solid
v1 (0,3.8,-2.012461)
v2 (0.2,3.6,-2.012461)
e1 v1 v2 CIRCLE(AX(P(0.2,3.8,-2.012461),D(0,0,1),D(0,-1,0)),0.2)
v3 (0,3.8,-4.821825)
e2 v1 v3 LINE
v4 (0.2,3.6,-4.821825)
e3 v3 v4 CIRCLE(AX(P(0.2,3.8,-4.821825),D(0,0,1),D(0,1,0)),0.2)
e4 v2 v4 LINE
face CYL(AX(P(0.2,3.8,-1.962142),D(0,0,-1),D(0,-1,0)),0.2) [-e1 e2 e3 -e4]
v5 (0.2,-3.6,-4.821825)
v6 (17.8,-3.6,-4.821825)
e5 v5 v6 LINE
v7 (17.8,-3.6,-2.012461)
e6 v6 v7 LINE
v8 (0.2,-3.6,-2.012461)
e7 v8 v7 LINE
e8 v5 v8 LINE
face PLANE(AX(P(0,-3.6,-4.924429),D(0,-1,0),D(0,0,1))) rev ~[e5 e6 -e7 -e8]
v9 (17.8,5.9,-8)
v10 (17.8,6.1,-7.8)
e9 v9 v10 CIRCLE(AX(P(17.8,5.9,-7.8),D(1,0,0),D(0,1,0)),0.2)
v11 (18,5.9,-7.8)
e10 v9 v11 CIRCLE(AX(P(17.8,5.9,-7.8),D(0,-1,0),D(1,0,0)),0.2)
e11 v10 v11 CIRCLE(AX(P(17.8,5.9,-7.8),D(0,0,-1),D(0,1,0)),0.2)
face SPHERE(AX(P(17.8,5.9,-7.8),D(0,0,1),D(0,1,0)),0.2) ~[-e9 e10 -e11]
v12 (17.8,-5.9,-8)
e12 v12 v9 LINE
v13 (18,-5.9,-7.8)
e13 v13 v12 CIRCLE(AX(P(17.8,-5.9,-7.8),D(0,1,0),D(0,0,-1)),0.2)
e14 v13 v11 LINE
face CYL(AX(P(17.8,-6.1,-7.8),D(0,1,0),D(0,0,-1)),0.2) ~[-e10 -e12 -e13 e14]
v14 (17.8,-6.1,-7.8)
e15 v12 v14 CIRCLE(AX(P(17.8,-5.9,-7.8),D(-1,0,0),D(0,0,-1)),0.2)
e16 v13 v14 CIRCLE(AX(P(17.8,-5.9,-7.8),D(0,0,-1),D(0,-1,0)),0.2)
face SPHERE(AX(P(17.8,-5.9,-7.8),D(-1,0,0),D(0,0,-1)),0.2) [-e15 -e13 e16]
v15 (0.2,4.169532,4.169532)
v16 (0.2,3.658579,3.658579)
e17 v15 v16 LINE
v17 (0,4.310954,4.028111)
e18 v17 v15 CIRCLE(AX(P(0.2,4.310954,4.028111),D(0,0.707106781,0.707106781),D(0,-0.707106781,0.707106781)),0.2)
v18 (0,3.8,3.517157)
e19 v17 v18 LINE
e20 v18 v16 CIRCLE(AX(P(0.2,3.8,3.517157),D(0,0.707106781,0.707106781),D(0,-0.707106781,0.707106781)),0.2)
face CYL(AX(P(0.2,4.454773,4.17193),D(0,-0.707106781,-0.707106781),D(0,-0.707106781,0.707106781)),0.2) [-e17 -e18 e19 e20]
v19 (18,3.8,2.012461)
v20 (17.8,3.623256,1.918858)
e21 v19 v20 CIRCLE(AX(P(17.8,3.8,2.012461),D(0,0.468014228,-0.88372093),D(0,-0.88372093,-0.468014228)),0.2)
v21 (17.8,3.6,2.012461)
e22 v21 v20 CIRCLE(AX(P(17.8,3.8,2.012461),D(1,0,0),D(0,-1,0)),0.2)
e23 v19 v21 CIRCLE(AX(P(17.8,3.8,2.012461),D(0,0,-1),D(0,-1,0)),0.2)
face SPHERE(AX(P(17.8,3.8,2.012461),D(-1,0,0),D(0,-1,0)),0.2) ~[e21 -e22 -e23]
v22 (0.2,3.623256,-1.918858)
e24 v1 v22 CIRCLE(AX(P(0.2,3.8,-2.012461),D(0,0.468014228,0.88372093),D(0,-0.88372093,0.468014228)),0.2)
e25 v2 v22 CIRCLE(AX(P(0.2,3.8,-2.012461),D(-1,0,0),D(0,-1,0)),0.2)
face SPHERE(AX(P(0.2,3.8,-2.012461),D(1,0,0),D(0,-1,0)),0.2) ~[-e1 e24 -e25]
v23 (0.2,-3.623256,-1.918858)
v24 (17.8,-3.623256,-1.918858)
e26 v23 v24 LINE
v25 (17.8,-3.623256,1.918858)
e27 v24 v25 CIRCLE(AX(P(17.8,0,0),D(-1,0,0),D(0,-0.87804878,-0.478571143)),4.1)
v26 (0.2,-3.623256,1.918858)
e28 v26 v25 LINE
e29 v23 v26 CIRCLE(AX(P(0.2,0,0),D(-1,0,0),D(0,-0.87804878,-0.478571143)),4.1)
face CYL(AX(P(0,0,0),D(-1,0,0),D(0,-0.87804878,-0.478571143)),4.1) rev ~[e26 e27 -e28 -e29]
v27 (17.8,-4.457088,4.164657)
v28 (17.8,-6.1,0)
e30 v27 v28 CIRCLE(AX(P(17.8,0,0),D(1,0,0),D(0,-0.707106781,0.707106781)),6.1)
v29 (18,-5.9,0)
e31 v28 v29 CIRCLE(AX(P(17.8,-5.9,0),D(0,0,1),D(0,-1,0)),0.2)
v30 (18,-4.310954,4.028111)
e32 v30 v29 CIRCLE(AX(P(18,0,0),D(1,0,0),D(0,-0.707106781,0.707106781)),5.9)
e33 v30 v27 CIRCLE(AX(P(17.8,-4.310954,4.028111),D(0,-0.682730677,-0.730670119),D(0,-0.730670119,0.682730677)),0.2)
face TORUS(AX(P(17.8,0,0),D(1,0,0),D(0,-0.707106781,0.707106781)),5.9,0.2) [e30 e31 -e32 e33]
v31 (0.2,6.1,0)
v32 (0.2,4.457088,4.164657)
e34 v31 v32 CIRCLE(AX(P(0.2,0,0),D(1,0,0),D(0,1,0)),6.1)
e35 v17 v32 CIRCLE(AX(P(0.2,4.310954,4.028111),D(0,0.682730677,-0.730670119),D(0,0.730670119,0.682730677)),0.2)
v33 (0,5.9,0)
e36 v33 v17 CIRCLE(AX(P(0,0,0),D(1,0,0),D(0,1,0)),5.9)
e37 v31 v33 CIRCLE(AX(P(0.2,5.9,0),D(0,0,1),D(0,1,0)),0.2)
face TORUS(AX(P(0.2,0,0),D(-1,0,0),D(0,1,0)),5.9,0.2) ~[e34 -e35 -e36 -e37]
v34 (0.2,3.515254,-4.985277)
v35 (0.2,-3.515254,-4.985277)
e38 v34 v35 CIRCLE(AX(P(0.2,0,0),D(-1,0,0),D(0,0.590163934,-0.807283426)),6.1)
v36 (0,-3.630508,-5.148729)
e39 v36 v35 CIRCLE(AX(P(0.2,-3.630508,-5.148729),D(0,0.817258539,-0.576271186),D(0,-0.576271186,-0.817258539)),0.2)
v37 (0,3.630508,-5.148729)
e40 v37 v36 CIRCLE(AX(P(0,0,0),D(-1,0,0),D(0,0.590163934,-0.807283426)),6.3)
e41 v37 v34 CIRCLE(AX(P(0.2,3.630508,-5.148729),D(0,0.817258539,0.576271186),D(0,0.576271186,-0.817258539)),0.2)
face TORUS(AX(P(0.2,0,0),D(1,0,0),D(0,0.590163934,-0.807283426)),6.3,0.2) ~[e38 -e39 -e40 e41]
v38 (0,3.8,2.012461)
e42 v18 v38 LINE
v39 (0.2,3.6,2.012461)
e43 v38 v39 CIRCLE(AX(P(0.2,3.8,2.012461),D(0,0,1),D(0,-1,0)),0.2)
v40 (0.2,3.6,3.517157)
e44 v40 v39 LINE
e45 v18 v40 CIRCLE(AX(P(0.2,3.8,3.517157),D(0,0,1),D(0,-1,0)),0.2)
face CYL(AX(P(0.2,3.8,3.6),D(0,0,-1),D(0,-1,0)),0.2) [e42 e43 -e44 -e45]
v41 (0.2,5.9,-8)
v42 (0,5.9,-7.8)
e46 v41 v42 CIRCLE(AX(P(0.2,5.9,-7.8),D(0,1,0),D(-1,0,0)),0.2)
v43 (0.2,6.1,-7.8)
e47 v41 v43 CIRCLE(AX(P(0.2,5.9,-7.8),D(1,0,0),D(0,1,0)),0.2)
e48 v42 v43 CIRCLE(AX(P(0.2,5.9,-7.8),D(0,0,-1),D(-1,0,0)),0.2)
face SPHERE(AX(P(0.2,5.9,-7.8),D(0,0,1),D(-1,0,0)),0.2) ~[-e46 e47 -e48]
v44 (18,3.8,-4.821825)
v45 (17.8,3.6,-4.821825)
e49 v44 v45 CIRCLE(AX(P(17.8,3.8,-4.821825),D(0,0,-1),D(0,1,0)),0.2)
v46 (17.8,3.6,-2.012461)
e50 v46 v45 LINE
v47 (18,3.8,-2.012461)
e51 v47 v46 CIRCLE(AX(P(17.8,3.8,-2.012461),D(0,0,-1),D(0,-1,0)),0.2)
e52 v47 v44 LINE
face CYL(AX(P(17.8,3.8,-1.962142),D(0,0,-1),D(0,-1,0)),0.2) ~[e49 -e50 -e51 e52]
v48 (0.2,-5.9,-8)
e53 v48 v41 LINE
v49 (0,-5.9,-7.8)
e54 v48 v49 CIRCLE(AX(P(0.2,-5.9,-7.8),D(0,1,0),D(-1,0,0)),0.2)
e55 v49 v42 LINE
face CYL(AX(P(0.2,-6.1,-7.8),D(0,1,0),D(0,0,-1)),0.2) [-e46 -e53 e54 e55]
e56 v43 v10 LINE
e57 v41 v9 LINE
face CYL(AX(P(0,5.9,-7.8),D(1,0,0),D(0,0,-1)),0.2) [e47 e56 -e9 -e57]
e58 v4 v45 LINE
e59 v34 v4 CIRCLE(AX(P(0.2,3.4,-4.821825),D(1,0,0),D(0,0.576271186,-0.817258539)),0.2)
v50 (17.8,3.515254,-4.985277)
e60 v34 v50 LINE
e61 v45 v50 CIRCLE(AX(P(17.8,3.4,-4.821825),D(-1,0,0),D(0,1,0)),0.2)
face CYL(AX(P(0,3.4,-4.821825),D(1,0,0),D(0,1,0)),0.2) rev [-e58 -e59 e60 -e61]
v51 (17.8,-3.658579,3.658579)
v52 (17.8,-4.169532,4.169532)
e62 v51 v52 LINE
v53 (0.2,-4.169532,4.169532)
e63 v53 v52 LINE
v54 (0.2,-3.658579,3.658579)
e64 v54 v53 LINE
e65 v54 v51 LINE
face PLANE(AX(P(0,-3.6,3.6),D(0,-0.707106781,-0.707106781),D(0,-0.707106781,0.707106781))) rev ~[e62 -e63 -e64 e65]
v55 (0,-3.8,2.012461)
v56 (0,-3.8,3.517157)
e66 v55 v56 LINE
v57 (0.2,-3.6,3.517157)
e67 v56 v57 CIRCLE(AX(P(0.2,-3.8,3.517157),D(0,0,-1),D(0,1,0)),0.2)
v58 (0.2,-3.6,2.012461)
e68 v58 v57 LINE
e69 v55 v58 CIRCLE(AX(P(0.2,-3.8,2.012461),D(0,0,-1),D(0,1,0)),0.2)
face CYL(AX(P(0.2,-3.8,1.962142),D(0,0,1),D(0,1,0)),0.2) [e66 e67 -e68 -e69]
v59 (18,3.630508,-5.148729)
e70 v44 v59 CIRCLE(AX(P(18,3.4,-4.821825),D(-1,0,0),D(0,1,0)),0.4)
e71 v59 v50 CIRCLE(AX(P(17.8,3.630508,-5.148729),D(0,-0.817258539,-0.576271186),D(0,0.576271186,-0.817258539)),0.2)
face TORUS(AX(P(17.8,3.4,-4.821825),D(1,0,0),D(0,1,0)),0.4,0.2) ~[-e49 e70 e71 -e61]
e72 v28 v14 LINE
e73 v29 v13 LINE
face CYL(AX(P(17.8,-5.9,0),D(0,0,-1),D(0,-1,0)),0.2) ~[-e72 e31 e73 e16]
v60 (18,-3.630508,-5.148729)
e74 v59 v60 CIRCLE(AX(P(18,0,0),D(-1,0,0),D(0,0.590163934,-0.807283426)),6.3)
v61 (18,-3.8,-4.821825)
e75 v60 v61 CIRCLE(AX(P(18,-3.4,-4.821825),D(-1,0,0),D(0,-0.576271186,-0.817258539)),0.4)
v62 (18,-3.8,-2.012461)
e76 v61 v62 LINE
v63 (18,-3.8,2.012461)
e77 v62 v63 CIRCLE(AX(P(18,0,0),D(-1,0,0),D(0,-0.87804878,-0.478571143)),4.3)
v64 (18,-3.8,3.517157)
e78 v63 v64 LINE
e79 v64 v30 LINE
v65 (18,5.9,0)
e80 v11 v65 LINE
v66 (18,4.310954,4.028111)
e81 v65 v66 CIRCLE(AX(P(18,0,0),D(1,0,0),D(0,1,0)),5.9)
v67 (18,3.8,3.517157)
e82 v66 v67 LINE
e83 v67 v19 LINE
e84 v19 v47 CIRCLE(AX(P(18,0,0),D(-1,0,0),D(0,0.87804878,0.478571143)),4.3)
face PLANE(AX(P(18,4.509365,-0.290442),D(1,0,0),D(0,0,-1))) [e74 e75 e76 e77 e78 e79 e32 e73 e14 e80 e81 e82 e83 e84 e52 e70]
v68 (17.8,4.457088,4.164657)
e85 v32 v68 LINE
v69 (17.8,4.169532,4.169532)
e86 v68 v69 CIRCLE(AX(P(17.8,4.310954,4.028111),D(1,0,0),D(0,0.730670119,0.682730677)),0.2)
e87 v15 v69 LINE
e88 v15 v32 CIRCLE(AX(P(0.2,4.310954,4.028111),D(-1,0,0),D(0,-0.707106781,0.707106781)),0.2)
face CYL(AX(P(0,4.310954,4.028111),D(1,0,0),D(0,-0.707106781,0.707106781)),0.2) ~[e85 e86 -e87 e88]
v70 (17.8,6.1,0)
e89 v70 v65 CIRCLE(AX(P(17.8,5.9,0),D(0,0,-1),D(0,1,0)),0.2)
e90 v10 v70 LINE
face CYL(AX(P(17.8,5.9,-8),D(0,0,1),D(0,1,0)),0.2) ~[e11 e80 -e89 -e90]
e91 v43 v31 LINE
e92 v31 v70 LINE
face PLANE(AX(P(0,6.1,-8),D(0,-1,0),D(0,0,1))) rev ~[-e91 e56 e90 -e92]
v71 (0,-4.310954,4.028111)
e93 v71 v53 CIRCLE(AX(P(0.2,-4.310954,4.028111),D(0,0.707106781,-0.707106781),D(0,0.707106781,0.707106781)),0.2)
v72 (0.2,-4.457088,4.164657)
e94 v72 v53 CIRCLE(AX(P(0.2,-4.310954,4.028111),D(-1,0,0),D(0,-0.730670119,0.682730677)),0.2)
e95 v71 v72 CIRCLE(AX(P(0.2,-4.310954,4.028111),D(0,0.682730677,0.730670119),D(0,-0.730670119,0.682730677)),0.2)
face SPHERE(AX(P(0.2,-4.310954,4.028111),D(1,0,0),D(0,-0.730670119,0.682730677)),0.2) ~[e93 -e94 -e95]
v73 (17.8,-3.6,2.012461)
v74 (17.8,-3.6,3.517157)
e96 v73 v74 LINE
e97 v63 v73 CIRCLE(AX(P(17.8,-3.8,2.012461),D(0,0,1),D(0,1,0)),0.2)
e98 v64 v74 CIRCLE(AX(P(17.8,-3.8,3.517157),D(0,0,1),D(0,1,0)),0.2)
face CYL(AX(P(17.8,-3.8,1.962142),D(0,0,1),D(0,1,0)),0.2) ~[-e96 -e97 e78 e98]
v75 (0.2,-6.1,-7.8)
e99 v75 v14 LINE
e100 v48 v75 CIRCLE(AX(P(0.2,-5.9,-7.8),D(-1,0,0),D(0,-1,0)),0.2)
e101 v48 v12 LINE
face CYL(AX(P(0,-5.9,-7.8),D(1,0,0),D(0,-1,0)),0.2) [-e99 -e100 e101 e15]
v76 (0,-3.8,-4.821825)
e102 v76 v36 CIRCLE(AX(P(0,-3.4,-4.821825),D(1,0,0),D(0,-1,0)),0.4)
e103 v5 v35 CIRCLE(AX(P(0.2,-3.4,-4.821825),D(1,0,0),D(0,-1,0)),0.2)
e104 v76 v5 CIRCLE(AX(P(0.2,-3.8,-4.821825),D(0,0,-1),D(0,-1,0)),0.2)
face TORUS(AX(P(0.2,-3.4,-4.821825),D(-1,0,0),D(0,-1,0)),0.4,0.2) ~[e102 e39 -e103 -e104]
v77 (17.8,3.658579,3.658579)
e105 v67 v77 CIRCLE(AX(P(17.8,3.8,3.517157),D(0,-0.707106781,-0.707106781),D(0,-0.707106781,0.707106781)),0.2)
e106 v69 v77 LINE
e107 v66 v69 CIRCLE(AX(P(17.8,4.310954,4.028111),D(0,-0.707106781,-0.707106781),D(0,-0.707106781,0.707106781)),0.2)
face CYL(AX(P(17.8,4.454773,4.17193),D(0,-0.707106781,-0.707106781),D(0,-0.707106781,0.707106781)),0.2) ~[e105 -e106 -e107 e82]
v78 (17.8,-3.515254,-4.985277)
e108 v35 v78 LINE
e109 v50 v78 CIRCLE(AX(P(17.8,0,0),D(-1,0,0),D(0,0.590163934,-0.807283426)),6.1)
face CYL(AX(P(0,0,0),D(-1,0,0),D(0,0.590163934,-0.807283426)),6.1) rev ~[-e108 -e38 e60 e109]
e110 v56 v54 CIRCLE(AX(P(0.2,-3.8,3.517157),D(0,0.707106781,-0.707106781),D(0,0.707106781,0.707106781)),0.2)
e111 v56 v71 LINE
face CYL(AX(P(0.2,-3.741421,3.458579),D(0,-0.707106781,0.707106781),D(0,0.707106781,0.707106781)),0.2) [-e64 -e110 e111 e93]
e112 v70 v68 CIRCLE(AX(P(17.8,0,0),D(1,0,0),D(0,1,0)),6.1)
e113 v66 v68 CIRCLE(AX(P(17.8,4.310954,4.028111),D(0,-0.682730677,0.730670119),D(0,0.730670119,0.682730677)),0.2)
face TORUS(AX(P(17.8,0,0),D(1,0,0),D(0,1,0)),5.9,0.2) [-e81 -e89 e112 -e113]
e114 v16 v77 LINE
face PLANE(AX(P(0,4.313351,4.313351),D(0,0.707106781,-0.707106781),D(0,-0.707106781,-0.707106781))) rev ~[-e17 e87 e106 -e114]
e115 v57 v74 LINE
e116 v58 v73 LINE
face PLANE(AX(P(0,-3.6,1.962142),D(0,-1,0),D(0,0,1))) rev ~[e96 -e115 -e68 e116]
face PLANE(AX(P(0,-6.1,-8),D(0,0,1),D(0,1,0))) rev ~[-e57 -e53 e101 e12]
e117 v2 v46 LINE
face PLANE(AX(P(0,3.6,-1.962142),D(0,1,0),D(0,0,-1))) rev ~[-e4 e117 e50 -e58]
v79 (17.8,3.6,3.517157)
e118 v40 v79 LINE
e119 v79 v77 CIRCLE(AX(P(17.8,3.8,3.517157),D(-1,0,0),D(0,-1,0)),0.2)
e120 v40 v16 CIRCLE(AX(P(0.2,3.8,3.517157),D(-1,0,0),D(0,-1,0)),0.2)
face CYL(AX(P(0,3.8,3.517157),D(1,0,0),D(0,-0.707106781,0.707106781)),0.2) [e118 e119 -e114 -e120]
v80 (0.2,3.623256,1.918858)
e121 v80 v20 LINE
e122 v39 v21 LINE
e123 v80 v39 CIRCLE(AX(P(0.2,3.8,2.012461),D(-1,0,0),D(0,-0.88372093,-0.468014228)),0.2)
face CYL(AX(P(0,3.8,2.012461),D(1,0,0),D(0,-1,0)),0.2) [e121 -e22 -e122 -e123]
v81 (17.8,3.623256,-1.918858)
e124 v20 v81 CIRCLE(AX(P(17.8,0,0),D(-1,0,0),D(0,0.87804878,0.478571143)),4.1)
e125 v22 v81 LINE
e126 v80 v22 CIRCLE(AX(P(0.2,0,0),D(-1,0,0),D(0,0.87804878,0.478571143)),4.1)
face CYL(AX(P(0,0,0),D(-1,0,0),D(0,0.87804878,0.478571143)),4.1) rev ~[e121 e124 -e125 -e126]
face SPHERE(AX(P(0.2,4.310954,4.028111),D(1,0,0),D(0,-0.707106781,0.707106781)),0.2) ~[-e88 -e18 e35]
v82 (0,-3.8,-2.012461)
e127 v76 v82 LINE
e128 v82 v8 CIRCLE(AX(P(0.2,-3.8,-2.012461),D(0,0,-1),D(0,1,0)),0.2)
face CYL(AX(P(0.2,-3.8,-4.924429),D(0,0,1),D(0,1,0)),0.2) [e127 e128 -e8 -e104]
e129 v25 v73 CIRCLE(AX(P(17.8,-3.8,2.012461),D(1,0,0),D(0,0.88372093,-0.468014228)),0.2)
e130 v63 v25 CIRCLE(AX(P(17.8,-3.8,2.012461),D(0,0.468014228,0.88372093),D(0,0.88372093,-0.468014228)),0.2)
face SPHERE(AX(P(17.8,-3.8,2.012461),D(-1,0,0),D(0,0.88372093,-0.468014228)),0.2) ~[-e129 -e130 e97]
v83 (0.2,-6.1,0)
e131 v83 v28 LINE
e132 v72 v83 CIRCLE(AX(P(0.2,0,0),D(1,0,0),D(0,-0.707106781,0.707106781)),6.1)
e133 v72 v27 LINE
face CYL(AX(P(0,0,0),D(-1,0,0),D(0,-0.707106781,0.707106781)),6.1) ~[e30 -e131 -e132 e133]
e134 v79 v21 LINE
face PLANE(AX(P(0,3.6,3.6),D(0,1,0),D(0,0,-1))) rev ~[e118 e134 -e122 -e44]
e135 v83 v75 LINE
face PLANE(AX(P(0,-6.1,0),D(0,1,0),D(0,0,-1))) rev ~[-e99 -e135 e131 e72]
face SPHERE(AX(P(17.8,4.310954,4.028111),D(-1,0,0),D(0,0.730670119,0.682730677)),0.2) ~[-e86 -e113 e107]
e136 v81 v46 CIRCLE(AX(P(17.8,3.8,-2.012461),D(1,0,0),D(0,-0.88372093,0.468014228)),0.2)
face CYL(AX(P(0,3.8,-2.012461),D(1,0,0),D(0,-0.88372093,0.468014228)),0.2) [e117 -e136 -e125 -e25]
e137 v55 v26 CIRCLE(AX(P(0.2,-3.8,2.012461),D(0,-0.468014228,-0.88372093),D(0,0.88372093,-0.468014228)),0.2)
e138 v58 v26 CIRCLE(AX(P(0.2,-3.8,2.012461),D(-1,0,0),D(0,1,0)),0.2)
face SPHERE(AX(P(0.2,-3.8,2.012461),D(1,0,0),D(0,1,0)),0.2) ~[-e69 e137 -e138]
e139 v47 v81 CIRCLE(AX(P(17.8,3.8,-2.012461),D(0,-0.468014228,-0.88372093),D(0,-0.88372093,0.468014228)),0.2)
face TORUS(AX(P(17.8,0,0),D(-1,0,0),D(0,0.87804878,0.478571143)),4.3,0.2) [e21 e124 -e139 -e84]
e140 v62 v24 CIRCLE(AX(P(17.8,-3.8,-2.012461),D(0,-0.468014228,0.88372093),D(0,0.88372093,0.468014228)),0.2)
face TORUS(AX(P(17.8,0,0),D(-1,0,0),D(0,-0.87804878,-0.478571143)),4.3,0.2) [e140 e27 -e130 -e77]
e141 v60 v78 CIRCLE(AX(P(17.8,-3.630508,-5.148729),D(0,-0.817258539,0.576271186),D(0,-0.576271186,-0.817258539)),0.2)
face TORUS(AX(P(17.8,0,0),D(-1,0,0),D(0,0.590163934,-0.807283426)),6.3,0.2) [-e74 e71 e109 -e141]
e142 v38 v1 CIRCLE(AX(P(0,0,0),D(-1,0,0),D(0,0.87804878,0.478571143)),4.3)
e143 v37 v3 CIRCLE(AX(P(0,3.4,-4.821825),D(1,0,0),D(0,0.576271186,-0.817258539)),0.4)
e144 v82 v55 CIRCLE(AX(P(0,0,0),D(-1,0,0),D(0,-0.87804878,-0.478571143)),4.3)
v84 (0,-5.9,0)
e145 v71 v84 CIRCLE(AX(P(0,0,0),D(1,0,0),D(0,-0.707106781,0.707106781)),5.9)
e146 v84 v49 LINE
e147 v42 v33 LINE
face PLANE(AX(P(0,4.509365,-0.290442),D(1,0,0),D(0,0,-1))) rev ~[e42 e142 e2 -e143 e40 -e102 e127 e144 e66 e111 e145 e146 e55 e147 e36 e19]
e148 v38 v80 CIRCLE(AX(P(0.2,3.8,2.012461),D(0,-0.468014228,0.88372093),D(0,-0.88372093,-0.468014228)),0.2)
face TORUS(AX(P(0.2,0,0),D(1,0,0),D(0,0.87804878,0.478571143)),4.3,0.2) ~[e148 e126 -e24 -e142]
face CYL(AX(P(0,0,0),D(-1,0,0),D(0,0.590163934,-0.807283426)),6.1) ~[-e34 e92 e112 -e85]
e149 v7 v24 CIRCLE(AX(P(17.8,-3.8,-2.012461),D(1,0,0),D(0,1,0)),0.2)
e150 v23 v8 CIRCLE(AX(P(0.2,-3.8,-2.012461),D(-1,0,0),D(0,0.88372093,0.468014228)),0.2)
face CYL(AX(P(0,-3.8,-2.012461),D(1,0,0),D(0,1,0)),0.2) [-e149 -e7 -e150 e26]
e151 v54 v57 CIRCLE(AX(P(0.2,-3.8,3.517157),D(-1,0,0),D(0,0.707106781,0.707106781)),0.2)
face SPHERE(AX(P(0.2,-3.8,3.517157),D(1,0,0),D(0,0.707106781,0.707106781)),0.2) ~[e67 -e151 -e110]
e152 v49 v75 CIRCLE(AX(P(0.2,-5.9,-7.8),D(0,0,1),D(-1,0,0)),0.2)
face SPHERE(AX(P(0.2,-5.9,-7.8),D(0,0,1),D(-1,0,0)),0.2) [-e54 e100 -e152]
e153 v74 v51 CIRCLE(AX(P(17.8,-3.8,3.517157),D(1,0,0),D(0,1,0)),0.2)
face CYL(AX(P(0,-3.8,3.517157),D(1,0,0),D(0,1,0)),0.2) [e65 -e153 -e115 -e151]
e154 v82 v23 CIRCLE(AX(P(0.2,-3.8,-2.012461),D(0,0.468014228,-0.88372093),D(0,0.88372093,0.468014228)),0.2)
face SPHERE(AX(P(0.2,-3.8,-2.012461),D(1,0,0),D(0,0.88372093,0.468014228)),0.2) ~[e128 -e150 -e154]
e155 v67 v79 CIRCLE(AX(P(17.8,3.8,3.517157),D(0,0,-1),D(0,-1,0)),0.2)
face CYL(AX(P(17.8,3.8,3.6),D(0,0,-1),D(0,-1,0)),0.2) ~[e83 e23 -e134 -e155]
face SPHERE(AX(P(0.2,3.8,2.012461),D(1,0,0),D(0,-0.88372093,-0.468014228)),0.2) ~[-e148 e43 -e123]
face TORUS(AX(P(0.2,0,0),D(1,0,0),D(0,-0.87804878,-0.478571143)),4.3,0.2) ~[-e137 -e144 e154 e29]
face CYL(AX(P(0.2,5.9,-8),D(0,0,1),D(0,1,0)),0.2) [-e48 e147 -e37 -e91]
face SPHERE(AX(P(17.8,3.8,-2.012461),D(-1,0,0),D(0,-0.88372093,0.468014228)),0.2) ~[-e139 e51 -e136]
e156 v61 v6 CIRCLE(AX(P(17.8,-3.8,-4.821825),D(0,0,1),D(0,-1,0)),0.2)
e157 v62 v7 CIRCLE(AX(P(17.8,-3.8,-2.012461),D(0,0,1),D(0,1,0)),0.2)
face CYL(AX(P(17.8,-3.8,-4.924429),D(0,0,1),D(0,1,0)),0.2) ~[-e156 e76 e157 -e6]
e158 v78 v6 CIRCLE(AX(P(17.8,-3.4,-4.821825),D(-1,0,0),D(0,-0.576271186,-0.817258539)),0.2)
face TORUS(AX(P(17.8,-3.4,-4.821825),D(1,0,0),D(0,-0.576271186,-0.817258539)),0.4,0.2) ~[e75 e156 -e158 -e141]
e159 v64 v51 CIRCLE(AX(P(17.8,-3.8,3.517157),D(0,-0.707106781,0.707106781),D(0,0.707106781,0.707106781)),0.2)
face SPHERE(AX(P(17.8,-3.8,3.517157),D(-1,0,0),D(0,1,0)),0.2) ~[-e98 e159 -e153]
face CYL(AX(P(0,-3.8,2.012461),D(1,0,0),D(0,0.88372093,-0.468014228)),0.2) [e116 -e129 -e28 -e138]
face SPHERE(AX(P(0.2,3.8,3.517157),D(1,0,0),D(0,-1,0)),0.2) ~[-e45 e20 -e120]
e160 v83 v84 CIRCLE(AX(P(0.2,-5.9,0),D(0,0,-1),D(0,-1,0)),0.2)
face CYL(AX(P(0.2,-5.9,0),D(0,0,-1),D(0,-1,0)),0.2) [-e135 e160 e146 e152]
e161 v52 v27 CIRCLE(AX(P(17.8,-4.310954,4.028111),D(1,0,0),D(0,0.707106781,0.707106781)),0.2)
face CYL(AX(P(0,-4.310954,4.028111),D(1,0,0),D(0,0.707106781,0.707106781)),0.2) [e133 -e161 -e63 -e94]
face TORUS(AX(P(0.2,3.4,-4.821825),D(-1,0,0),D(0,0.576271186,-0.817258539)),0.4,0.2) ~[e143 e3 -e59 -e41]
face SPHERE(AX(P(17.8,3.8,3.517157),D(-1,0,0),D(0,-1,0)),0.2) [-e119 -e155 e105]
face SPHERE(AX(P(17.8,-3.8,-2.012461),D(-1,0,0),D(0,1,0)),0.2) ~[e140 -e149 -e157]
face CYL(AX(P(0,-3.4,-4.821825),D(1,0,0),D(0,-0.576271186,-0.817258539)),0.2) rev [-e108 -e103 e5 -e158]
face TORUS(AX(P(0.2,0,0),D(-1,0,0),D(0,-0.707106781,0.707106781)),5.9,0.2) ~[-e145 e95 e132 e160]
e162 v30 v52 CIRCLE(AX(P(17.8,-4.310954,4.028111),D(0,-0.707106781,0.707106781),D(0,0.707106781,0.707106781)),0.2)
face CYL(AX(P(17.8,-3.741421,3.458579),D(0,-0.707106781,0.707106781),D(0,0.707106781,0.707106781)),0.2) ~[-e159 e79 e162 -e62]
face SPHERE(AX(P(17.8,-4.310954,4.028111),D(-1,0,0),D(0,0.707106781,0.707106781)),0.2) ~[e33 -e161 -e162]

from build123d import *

# Parameters (mm, degrees)
BOSS_EXTRUDE1_DEPTH = 18
FILLET1_R           = 0.2


with BuildPart() as part:
    # Sketch1 → Boss-Extrude1 (new body)
    with BuildSketch(Plane(origin=(0, 0, 0), x_dir=(0, 0, -1), z_dir=(1, 0, 0))):
        with BuildLine():
            Line((-4.3133513652379465, 4.313351365237932), (-3.6000000000000107, 3.5999999999999988))
            Line((-3.6000000000000103, 3.5999999999999996), (-1.9621416870348378, 3.5999999999999996))
            ThreePointArc((-1.962141687034841, 3.6000000000000094), (-1.978e-14, 4.1), (1.962141687034806, 3.600000000000028))
            Line((1.9621416870347996, 3.5999999999999996), (4.924428900898164, 3.5999999999999996))
            ThreePointArc((4.9244289008981275, 3.5999999999998975), (4.632641104588721, 3.96845516493194), (4.3133513652379465, 4.313351365237932))
            ThreePointArc((4.3133513652379465, 4.313351365237932), (2.3343689374270524, 5.6356651483188465), (3.7e-16, 6.1))
            ThreePointArc((3.7e-16, 6.1), (-2.334368937427052, 5.6356651483188465), (-4.3133513652379465, 4.313351365237932))
        make_face()
        with BuildLine():
            Line((8, 6.1), (0, 6.1))
            ThreePointArc((3.7e-16, 6.1), (2.3343689374270524, 5.6356651483188465), (4.3133513652379465, 4.313351365237932))
            Line((4.3133513652379465, 4.313351365237932), (8, 4.313351365237933))
            Line((8, 4.313351365237933), (8, 6.1))
        make_face()
        with BuildLine():
            ThreePointArc((4.3133513652379465, 4.313351365237932), (4.632641104588721, 3.96845516493194), (4.9244289008981275, 3.5999999999998975))
            Line((4.924428900898164, 3.5999999999999996), (8, 3.5999999999999996))
            Line((8, 3.5999999999999996), (8, 4.313351365237933))
            Line((8, 4.313351365237933), (4.3133513652379465, 4.313351365237932))
        make_face()
        with BuildLine():
            Line((8, 3.5999999999999996), (4.924428900898164, 3.5999999999999996))
            ThreePointArc((4.9244289008981275, 3.5999999999998975), (5.7986643417031205, 1.8935395037497136), (6.1, 0))
            ThreePointArc((6.1, -1.49e-15), (5.7986643417031205, -1.8935395037497147), (4.924428900898127, -3.599999999999898))
            Line((4.924428900898162, -3.6), (8, -3.5999999999999996))
            Line((8, -3.5999999999999996), (8, 3.5999999999999996))
        make_face()
        with BuildLine():
            ThreePointArc((4.3133513652379465, -4.313351365237933), (2.334368937427049, -5.635665148318848), (-6.54e-15, -6.1))
            Line((-6.22e-15, -6.1), (8, -6.1))
            Line((8, -6.1), (8, -4.313351365237933))
            Line((8, -4.313351365237933), (4.3133513652379465, -4.313351365237932))
        make_face()
        with BuildLine():
            Line((8, -3.5999999999999996), (4.924428900898162, -3.6))
            ThreePointArc((4.924428900898127, -3.599999999999898), (4.6326411045887195, -3.968455164931942), (4.3133513652379465, -4.313351365237933))
            Line((4.3133513652379465, -4.313351365237932), (8, -4.313351365237933))
            Line((8, -4.313351365237933), (8, -3.5999999999999996))
        make_face()
        with BuildLine():
            Line((-1.9621416870348352, -3.6000000000000005), (-3.6000000000000156, -3.600000000000001))
            Line((-3.600000000000014, -3.6000000000000023), (-4.3133513652379465, -4.313351365237932))
            ThreePointArc((-4.313351365237948, -4.313351365237931), (-2.334368937427056, -5.635665148318846), (-6.54e-15, -6.1))
            ThreePointArc((-6.54e-15, -6.1), (2.334368937427049, -5.635665148318848), (4.3133513652379465, -4.313351365237933))
            ThreePointArc((4.3133513652379465, -4.313351365237933), (4.6326411045887195, -3.968455164931942), (4.924428900898127, -3.599999999999898))
            Line((4.924428900898162, -3.6), (1.9621416870348023, -3.6000000000000005))
            ThreePointArc((1.9621416870348085, -3.6000000000000267), (-1.532e-14, -4.1), (-1.9621416870348387, -3.6000000000000103))
        make_face()
    extrude(amount=BOSS_EXTRUDE1_DEPTH)

    # Fillet1
    fillet1_edges = [part.edges().sort_by_distance(p)[0] for p in [
        (0, -6.1, -3.9999999999999973),
        (0, -5.635665148318846, 2.334368937427055),
        (0, -3.9566756826189673, 3.95667568261898),
        (18, 6.1, -4),
        (0, -3.6000000000000005, 2.7810708435174254),
        (0, -4.1000000000000005, 1.654e-14),
        (0, -3.6, -3.443285293966482),
        (0, -6.1e-16, -6.100000000000001),
        (0, 3.6000000000000103, -3.4432852939664738),
        (0, 4.1, 1.982e-14),
        (0, 3.5999999999999996, 2.781070843517424),
        (0, 3.9566756826189655, 3.956675682618979),
        (0, 5.635665148318875, 2.334368937427066),
        (18, 5.6356651483188465, 2.334368937427051),
        (0, 6.1, -4),
        (0, 0, -8),
        (18, 3.9566756826189655, 3.956675682618979),
        (9, -6.1, -8),
        (9, -4.313351365237931, 4.313351365237947),
        (9, -3.6000000000000014, 3.6000000000000147),
        (9, -3.600000000000006, 1.9621416870348367),
        (9, -3.600000000000014, -1.9621416870348056),
        (9, -3.599999999999949, -4.924428900898144),
        (9, 3.599999999999948, -4.924428900898145),
        (9, 3.600000000000014, -1.9621416870348032),
        (9, 3.600000000000005, 1.9621416870348396),
        (9, 3.599999999999999, 3.6000000000000103),
        (9, 4.313351365237933, 4.313351365237946),
        (9, 6.1, -8),
        (18, 3.5999999999999996, 2.781070843517424),
        (18, 4.1, 1.982e-14),
        (18, 0, -8),
        (18, 3.6000000000000103, -3.4432852939664738),
        (18, -6.1e-16, -6.100000000000001),
        (18, -3.6, -3.443285293966482),
        (18, -4.1000000000000005, 1.654e-14),
        (18, -3.6000000000000005, 2.7810708435174254),
        (18, -3.9566756826189673, 3.95667568261898),
        (18, -5.635665148318815, 2.3343689374270387),
        (18, -6.1, -3.9999999999999973),
    ]]
    fillet(fillet1_edges, radius=FILLET1_R)


solid = part.part
